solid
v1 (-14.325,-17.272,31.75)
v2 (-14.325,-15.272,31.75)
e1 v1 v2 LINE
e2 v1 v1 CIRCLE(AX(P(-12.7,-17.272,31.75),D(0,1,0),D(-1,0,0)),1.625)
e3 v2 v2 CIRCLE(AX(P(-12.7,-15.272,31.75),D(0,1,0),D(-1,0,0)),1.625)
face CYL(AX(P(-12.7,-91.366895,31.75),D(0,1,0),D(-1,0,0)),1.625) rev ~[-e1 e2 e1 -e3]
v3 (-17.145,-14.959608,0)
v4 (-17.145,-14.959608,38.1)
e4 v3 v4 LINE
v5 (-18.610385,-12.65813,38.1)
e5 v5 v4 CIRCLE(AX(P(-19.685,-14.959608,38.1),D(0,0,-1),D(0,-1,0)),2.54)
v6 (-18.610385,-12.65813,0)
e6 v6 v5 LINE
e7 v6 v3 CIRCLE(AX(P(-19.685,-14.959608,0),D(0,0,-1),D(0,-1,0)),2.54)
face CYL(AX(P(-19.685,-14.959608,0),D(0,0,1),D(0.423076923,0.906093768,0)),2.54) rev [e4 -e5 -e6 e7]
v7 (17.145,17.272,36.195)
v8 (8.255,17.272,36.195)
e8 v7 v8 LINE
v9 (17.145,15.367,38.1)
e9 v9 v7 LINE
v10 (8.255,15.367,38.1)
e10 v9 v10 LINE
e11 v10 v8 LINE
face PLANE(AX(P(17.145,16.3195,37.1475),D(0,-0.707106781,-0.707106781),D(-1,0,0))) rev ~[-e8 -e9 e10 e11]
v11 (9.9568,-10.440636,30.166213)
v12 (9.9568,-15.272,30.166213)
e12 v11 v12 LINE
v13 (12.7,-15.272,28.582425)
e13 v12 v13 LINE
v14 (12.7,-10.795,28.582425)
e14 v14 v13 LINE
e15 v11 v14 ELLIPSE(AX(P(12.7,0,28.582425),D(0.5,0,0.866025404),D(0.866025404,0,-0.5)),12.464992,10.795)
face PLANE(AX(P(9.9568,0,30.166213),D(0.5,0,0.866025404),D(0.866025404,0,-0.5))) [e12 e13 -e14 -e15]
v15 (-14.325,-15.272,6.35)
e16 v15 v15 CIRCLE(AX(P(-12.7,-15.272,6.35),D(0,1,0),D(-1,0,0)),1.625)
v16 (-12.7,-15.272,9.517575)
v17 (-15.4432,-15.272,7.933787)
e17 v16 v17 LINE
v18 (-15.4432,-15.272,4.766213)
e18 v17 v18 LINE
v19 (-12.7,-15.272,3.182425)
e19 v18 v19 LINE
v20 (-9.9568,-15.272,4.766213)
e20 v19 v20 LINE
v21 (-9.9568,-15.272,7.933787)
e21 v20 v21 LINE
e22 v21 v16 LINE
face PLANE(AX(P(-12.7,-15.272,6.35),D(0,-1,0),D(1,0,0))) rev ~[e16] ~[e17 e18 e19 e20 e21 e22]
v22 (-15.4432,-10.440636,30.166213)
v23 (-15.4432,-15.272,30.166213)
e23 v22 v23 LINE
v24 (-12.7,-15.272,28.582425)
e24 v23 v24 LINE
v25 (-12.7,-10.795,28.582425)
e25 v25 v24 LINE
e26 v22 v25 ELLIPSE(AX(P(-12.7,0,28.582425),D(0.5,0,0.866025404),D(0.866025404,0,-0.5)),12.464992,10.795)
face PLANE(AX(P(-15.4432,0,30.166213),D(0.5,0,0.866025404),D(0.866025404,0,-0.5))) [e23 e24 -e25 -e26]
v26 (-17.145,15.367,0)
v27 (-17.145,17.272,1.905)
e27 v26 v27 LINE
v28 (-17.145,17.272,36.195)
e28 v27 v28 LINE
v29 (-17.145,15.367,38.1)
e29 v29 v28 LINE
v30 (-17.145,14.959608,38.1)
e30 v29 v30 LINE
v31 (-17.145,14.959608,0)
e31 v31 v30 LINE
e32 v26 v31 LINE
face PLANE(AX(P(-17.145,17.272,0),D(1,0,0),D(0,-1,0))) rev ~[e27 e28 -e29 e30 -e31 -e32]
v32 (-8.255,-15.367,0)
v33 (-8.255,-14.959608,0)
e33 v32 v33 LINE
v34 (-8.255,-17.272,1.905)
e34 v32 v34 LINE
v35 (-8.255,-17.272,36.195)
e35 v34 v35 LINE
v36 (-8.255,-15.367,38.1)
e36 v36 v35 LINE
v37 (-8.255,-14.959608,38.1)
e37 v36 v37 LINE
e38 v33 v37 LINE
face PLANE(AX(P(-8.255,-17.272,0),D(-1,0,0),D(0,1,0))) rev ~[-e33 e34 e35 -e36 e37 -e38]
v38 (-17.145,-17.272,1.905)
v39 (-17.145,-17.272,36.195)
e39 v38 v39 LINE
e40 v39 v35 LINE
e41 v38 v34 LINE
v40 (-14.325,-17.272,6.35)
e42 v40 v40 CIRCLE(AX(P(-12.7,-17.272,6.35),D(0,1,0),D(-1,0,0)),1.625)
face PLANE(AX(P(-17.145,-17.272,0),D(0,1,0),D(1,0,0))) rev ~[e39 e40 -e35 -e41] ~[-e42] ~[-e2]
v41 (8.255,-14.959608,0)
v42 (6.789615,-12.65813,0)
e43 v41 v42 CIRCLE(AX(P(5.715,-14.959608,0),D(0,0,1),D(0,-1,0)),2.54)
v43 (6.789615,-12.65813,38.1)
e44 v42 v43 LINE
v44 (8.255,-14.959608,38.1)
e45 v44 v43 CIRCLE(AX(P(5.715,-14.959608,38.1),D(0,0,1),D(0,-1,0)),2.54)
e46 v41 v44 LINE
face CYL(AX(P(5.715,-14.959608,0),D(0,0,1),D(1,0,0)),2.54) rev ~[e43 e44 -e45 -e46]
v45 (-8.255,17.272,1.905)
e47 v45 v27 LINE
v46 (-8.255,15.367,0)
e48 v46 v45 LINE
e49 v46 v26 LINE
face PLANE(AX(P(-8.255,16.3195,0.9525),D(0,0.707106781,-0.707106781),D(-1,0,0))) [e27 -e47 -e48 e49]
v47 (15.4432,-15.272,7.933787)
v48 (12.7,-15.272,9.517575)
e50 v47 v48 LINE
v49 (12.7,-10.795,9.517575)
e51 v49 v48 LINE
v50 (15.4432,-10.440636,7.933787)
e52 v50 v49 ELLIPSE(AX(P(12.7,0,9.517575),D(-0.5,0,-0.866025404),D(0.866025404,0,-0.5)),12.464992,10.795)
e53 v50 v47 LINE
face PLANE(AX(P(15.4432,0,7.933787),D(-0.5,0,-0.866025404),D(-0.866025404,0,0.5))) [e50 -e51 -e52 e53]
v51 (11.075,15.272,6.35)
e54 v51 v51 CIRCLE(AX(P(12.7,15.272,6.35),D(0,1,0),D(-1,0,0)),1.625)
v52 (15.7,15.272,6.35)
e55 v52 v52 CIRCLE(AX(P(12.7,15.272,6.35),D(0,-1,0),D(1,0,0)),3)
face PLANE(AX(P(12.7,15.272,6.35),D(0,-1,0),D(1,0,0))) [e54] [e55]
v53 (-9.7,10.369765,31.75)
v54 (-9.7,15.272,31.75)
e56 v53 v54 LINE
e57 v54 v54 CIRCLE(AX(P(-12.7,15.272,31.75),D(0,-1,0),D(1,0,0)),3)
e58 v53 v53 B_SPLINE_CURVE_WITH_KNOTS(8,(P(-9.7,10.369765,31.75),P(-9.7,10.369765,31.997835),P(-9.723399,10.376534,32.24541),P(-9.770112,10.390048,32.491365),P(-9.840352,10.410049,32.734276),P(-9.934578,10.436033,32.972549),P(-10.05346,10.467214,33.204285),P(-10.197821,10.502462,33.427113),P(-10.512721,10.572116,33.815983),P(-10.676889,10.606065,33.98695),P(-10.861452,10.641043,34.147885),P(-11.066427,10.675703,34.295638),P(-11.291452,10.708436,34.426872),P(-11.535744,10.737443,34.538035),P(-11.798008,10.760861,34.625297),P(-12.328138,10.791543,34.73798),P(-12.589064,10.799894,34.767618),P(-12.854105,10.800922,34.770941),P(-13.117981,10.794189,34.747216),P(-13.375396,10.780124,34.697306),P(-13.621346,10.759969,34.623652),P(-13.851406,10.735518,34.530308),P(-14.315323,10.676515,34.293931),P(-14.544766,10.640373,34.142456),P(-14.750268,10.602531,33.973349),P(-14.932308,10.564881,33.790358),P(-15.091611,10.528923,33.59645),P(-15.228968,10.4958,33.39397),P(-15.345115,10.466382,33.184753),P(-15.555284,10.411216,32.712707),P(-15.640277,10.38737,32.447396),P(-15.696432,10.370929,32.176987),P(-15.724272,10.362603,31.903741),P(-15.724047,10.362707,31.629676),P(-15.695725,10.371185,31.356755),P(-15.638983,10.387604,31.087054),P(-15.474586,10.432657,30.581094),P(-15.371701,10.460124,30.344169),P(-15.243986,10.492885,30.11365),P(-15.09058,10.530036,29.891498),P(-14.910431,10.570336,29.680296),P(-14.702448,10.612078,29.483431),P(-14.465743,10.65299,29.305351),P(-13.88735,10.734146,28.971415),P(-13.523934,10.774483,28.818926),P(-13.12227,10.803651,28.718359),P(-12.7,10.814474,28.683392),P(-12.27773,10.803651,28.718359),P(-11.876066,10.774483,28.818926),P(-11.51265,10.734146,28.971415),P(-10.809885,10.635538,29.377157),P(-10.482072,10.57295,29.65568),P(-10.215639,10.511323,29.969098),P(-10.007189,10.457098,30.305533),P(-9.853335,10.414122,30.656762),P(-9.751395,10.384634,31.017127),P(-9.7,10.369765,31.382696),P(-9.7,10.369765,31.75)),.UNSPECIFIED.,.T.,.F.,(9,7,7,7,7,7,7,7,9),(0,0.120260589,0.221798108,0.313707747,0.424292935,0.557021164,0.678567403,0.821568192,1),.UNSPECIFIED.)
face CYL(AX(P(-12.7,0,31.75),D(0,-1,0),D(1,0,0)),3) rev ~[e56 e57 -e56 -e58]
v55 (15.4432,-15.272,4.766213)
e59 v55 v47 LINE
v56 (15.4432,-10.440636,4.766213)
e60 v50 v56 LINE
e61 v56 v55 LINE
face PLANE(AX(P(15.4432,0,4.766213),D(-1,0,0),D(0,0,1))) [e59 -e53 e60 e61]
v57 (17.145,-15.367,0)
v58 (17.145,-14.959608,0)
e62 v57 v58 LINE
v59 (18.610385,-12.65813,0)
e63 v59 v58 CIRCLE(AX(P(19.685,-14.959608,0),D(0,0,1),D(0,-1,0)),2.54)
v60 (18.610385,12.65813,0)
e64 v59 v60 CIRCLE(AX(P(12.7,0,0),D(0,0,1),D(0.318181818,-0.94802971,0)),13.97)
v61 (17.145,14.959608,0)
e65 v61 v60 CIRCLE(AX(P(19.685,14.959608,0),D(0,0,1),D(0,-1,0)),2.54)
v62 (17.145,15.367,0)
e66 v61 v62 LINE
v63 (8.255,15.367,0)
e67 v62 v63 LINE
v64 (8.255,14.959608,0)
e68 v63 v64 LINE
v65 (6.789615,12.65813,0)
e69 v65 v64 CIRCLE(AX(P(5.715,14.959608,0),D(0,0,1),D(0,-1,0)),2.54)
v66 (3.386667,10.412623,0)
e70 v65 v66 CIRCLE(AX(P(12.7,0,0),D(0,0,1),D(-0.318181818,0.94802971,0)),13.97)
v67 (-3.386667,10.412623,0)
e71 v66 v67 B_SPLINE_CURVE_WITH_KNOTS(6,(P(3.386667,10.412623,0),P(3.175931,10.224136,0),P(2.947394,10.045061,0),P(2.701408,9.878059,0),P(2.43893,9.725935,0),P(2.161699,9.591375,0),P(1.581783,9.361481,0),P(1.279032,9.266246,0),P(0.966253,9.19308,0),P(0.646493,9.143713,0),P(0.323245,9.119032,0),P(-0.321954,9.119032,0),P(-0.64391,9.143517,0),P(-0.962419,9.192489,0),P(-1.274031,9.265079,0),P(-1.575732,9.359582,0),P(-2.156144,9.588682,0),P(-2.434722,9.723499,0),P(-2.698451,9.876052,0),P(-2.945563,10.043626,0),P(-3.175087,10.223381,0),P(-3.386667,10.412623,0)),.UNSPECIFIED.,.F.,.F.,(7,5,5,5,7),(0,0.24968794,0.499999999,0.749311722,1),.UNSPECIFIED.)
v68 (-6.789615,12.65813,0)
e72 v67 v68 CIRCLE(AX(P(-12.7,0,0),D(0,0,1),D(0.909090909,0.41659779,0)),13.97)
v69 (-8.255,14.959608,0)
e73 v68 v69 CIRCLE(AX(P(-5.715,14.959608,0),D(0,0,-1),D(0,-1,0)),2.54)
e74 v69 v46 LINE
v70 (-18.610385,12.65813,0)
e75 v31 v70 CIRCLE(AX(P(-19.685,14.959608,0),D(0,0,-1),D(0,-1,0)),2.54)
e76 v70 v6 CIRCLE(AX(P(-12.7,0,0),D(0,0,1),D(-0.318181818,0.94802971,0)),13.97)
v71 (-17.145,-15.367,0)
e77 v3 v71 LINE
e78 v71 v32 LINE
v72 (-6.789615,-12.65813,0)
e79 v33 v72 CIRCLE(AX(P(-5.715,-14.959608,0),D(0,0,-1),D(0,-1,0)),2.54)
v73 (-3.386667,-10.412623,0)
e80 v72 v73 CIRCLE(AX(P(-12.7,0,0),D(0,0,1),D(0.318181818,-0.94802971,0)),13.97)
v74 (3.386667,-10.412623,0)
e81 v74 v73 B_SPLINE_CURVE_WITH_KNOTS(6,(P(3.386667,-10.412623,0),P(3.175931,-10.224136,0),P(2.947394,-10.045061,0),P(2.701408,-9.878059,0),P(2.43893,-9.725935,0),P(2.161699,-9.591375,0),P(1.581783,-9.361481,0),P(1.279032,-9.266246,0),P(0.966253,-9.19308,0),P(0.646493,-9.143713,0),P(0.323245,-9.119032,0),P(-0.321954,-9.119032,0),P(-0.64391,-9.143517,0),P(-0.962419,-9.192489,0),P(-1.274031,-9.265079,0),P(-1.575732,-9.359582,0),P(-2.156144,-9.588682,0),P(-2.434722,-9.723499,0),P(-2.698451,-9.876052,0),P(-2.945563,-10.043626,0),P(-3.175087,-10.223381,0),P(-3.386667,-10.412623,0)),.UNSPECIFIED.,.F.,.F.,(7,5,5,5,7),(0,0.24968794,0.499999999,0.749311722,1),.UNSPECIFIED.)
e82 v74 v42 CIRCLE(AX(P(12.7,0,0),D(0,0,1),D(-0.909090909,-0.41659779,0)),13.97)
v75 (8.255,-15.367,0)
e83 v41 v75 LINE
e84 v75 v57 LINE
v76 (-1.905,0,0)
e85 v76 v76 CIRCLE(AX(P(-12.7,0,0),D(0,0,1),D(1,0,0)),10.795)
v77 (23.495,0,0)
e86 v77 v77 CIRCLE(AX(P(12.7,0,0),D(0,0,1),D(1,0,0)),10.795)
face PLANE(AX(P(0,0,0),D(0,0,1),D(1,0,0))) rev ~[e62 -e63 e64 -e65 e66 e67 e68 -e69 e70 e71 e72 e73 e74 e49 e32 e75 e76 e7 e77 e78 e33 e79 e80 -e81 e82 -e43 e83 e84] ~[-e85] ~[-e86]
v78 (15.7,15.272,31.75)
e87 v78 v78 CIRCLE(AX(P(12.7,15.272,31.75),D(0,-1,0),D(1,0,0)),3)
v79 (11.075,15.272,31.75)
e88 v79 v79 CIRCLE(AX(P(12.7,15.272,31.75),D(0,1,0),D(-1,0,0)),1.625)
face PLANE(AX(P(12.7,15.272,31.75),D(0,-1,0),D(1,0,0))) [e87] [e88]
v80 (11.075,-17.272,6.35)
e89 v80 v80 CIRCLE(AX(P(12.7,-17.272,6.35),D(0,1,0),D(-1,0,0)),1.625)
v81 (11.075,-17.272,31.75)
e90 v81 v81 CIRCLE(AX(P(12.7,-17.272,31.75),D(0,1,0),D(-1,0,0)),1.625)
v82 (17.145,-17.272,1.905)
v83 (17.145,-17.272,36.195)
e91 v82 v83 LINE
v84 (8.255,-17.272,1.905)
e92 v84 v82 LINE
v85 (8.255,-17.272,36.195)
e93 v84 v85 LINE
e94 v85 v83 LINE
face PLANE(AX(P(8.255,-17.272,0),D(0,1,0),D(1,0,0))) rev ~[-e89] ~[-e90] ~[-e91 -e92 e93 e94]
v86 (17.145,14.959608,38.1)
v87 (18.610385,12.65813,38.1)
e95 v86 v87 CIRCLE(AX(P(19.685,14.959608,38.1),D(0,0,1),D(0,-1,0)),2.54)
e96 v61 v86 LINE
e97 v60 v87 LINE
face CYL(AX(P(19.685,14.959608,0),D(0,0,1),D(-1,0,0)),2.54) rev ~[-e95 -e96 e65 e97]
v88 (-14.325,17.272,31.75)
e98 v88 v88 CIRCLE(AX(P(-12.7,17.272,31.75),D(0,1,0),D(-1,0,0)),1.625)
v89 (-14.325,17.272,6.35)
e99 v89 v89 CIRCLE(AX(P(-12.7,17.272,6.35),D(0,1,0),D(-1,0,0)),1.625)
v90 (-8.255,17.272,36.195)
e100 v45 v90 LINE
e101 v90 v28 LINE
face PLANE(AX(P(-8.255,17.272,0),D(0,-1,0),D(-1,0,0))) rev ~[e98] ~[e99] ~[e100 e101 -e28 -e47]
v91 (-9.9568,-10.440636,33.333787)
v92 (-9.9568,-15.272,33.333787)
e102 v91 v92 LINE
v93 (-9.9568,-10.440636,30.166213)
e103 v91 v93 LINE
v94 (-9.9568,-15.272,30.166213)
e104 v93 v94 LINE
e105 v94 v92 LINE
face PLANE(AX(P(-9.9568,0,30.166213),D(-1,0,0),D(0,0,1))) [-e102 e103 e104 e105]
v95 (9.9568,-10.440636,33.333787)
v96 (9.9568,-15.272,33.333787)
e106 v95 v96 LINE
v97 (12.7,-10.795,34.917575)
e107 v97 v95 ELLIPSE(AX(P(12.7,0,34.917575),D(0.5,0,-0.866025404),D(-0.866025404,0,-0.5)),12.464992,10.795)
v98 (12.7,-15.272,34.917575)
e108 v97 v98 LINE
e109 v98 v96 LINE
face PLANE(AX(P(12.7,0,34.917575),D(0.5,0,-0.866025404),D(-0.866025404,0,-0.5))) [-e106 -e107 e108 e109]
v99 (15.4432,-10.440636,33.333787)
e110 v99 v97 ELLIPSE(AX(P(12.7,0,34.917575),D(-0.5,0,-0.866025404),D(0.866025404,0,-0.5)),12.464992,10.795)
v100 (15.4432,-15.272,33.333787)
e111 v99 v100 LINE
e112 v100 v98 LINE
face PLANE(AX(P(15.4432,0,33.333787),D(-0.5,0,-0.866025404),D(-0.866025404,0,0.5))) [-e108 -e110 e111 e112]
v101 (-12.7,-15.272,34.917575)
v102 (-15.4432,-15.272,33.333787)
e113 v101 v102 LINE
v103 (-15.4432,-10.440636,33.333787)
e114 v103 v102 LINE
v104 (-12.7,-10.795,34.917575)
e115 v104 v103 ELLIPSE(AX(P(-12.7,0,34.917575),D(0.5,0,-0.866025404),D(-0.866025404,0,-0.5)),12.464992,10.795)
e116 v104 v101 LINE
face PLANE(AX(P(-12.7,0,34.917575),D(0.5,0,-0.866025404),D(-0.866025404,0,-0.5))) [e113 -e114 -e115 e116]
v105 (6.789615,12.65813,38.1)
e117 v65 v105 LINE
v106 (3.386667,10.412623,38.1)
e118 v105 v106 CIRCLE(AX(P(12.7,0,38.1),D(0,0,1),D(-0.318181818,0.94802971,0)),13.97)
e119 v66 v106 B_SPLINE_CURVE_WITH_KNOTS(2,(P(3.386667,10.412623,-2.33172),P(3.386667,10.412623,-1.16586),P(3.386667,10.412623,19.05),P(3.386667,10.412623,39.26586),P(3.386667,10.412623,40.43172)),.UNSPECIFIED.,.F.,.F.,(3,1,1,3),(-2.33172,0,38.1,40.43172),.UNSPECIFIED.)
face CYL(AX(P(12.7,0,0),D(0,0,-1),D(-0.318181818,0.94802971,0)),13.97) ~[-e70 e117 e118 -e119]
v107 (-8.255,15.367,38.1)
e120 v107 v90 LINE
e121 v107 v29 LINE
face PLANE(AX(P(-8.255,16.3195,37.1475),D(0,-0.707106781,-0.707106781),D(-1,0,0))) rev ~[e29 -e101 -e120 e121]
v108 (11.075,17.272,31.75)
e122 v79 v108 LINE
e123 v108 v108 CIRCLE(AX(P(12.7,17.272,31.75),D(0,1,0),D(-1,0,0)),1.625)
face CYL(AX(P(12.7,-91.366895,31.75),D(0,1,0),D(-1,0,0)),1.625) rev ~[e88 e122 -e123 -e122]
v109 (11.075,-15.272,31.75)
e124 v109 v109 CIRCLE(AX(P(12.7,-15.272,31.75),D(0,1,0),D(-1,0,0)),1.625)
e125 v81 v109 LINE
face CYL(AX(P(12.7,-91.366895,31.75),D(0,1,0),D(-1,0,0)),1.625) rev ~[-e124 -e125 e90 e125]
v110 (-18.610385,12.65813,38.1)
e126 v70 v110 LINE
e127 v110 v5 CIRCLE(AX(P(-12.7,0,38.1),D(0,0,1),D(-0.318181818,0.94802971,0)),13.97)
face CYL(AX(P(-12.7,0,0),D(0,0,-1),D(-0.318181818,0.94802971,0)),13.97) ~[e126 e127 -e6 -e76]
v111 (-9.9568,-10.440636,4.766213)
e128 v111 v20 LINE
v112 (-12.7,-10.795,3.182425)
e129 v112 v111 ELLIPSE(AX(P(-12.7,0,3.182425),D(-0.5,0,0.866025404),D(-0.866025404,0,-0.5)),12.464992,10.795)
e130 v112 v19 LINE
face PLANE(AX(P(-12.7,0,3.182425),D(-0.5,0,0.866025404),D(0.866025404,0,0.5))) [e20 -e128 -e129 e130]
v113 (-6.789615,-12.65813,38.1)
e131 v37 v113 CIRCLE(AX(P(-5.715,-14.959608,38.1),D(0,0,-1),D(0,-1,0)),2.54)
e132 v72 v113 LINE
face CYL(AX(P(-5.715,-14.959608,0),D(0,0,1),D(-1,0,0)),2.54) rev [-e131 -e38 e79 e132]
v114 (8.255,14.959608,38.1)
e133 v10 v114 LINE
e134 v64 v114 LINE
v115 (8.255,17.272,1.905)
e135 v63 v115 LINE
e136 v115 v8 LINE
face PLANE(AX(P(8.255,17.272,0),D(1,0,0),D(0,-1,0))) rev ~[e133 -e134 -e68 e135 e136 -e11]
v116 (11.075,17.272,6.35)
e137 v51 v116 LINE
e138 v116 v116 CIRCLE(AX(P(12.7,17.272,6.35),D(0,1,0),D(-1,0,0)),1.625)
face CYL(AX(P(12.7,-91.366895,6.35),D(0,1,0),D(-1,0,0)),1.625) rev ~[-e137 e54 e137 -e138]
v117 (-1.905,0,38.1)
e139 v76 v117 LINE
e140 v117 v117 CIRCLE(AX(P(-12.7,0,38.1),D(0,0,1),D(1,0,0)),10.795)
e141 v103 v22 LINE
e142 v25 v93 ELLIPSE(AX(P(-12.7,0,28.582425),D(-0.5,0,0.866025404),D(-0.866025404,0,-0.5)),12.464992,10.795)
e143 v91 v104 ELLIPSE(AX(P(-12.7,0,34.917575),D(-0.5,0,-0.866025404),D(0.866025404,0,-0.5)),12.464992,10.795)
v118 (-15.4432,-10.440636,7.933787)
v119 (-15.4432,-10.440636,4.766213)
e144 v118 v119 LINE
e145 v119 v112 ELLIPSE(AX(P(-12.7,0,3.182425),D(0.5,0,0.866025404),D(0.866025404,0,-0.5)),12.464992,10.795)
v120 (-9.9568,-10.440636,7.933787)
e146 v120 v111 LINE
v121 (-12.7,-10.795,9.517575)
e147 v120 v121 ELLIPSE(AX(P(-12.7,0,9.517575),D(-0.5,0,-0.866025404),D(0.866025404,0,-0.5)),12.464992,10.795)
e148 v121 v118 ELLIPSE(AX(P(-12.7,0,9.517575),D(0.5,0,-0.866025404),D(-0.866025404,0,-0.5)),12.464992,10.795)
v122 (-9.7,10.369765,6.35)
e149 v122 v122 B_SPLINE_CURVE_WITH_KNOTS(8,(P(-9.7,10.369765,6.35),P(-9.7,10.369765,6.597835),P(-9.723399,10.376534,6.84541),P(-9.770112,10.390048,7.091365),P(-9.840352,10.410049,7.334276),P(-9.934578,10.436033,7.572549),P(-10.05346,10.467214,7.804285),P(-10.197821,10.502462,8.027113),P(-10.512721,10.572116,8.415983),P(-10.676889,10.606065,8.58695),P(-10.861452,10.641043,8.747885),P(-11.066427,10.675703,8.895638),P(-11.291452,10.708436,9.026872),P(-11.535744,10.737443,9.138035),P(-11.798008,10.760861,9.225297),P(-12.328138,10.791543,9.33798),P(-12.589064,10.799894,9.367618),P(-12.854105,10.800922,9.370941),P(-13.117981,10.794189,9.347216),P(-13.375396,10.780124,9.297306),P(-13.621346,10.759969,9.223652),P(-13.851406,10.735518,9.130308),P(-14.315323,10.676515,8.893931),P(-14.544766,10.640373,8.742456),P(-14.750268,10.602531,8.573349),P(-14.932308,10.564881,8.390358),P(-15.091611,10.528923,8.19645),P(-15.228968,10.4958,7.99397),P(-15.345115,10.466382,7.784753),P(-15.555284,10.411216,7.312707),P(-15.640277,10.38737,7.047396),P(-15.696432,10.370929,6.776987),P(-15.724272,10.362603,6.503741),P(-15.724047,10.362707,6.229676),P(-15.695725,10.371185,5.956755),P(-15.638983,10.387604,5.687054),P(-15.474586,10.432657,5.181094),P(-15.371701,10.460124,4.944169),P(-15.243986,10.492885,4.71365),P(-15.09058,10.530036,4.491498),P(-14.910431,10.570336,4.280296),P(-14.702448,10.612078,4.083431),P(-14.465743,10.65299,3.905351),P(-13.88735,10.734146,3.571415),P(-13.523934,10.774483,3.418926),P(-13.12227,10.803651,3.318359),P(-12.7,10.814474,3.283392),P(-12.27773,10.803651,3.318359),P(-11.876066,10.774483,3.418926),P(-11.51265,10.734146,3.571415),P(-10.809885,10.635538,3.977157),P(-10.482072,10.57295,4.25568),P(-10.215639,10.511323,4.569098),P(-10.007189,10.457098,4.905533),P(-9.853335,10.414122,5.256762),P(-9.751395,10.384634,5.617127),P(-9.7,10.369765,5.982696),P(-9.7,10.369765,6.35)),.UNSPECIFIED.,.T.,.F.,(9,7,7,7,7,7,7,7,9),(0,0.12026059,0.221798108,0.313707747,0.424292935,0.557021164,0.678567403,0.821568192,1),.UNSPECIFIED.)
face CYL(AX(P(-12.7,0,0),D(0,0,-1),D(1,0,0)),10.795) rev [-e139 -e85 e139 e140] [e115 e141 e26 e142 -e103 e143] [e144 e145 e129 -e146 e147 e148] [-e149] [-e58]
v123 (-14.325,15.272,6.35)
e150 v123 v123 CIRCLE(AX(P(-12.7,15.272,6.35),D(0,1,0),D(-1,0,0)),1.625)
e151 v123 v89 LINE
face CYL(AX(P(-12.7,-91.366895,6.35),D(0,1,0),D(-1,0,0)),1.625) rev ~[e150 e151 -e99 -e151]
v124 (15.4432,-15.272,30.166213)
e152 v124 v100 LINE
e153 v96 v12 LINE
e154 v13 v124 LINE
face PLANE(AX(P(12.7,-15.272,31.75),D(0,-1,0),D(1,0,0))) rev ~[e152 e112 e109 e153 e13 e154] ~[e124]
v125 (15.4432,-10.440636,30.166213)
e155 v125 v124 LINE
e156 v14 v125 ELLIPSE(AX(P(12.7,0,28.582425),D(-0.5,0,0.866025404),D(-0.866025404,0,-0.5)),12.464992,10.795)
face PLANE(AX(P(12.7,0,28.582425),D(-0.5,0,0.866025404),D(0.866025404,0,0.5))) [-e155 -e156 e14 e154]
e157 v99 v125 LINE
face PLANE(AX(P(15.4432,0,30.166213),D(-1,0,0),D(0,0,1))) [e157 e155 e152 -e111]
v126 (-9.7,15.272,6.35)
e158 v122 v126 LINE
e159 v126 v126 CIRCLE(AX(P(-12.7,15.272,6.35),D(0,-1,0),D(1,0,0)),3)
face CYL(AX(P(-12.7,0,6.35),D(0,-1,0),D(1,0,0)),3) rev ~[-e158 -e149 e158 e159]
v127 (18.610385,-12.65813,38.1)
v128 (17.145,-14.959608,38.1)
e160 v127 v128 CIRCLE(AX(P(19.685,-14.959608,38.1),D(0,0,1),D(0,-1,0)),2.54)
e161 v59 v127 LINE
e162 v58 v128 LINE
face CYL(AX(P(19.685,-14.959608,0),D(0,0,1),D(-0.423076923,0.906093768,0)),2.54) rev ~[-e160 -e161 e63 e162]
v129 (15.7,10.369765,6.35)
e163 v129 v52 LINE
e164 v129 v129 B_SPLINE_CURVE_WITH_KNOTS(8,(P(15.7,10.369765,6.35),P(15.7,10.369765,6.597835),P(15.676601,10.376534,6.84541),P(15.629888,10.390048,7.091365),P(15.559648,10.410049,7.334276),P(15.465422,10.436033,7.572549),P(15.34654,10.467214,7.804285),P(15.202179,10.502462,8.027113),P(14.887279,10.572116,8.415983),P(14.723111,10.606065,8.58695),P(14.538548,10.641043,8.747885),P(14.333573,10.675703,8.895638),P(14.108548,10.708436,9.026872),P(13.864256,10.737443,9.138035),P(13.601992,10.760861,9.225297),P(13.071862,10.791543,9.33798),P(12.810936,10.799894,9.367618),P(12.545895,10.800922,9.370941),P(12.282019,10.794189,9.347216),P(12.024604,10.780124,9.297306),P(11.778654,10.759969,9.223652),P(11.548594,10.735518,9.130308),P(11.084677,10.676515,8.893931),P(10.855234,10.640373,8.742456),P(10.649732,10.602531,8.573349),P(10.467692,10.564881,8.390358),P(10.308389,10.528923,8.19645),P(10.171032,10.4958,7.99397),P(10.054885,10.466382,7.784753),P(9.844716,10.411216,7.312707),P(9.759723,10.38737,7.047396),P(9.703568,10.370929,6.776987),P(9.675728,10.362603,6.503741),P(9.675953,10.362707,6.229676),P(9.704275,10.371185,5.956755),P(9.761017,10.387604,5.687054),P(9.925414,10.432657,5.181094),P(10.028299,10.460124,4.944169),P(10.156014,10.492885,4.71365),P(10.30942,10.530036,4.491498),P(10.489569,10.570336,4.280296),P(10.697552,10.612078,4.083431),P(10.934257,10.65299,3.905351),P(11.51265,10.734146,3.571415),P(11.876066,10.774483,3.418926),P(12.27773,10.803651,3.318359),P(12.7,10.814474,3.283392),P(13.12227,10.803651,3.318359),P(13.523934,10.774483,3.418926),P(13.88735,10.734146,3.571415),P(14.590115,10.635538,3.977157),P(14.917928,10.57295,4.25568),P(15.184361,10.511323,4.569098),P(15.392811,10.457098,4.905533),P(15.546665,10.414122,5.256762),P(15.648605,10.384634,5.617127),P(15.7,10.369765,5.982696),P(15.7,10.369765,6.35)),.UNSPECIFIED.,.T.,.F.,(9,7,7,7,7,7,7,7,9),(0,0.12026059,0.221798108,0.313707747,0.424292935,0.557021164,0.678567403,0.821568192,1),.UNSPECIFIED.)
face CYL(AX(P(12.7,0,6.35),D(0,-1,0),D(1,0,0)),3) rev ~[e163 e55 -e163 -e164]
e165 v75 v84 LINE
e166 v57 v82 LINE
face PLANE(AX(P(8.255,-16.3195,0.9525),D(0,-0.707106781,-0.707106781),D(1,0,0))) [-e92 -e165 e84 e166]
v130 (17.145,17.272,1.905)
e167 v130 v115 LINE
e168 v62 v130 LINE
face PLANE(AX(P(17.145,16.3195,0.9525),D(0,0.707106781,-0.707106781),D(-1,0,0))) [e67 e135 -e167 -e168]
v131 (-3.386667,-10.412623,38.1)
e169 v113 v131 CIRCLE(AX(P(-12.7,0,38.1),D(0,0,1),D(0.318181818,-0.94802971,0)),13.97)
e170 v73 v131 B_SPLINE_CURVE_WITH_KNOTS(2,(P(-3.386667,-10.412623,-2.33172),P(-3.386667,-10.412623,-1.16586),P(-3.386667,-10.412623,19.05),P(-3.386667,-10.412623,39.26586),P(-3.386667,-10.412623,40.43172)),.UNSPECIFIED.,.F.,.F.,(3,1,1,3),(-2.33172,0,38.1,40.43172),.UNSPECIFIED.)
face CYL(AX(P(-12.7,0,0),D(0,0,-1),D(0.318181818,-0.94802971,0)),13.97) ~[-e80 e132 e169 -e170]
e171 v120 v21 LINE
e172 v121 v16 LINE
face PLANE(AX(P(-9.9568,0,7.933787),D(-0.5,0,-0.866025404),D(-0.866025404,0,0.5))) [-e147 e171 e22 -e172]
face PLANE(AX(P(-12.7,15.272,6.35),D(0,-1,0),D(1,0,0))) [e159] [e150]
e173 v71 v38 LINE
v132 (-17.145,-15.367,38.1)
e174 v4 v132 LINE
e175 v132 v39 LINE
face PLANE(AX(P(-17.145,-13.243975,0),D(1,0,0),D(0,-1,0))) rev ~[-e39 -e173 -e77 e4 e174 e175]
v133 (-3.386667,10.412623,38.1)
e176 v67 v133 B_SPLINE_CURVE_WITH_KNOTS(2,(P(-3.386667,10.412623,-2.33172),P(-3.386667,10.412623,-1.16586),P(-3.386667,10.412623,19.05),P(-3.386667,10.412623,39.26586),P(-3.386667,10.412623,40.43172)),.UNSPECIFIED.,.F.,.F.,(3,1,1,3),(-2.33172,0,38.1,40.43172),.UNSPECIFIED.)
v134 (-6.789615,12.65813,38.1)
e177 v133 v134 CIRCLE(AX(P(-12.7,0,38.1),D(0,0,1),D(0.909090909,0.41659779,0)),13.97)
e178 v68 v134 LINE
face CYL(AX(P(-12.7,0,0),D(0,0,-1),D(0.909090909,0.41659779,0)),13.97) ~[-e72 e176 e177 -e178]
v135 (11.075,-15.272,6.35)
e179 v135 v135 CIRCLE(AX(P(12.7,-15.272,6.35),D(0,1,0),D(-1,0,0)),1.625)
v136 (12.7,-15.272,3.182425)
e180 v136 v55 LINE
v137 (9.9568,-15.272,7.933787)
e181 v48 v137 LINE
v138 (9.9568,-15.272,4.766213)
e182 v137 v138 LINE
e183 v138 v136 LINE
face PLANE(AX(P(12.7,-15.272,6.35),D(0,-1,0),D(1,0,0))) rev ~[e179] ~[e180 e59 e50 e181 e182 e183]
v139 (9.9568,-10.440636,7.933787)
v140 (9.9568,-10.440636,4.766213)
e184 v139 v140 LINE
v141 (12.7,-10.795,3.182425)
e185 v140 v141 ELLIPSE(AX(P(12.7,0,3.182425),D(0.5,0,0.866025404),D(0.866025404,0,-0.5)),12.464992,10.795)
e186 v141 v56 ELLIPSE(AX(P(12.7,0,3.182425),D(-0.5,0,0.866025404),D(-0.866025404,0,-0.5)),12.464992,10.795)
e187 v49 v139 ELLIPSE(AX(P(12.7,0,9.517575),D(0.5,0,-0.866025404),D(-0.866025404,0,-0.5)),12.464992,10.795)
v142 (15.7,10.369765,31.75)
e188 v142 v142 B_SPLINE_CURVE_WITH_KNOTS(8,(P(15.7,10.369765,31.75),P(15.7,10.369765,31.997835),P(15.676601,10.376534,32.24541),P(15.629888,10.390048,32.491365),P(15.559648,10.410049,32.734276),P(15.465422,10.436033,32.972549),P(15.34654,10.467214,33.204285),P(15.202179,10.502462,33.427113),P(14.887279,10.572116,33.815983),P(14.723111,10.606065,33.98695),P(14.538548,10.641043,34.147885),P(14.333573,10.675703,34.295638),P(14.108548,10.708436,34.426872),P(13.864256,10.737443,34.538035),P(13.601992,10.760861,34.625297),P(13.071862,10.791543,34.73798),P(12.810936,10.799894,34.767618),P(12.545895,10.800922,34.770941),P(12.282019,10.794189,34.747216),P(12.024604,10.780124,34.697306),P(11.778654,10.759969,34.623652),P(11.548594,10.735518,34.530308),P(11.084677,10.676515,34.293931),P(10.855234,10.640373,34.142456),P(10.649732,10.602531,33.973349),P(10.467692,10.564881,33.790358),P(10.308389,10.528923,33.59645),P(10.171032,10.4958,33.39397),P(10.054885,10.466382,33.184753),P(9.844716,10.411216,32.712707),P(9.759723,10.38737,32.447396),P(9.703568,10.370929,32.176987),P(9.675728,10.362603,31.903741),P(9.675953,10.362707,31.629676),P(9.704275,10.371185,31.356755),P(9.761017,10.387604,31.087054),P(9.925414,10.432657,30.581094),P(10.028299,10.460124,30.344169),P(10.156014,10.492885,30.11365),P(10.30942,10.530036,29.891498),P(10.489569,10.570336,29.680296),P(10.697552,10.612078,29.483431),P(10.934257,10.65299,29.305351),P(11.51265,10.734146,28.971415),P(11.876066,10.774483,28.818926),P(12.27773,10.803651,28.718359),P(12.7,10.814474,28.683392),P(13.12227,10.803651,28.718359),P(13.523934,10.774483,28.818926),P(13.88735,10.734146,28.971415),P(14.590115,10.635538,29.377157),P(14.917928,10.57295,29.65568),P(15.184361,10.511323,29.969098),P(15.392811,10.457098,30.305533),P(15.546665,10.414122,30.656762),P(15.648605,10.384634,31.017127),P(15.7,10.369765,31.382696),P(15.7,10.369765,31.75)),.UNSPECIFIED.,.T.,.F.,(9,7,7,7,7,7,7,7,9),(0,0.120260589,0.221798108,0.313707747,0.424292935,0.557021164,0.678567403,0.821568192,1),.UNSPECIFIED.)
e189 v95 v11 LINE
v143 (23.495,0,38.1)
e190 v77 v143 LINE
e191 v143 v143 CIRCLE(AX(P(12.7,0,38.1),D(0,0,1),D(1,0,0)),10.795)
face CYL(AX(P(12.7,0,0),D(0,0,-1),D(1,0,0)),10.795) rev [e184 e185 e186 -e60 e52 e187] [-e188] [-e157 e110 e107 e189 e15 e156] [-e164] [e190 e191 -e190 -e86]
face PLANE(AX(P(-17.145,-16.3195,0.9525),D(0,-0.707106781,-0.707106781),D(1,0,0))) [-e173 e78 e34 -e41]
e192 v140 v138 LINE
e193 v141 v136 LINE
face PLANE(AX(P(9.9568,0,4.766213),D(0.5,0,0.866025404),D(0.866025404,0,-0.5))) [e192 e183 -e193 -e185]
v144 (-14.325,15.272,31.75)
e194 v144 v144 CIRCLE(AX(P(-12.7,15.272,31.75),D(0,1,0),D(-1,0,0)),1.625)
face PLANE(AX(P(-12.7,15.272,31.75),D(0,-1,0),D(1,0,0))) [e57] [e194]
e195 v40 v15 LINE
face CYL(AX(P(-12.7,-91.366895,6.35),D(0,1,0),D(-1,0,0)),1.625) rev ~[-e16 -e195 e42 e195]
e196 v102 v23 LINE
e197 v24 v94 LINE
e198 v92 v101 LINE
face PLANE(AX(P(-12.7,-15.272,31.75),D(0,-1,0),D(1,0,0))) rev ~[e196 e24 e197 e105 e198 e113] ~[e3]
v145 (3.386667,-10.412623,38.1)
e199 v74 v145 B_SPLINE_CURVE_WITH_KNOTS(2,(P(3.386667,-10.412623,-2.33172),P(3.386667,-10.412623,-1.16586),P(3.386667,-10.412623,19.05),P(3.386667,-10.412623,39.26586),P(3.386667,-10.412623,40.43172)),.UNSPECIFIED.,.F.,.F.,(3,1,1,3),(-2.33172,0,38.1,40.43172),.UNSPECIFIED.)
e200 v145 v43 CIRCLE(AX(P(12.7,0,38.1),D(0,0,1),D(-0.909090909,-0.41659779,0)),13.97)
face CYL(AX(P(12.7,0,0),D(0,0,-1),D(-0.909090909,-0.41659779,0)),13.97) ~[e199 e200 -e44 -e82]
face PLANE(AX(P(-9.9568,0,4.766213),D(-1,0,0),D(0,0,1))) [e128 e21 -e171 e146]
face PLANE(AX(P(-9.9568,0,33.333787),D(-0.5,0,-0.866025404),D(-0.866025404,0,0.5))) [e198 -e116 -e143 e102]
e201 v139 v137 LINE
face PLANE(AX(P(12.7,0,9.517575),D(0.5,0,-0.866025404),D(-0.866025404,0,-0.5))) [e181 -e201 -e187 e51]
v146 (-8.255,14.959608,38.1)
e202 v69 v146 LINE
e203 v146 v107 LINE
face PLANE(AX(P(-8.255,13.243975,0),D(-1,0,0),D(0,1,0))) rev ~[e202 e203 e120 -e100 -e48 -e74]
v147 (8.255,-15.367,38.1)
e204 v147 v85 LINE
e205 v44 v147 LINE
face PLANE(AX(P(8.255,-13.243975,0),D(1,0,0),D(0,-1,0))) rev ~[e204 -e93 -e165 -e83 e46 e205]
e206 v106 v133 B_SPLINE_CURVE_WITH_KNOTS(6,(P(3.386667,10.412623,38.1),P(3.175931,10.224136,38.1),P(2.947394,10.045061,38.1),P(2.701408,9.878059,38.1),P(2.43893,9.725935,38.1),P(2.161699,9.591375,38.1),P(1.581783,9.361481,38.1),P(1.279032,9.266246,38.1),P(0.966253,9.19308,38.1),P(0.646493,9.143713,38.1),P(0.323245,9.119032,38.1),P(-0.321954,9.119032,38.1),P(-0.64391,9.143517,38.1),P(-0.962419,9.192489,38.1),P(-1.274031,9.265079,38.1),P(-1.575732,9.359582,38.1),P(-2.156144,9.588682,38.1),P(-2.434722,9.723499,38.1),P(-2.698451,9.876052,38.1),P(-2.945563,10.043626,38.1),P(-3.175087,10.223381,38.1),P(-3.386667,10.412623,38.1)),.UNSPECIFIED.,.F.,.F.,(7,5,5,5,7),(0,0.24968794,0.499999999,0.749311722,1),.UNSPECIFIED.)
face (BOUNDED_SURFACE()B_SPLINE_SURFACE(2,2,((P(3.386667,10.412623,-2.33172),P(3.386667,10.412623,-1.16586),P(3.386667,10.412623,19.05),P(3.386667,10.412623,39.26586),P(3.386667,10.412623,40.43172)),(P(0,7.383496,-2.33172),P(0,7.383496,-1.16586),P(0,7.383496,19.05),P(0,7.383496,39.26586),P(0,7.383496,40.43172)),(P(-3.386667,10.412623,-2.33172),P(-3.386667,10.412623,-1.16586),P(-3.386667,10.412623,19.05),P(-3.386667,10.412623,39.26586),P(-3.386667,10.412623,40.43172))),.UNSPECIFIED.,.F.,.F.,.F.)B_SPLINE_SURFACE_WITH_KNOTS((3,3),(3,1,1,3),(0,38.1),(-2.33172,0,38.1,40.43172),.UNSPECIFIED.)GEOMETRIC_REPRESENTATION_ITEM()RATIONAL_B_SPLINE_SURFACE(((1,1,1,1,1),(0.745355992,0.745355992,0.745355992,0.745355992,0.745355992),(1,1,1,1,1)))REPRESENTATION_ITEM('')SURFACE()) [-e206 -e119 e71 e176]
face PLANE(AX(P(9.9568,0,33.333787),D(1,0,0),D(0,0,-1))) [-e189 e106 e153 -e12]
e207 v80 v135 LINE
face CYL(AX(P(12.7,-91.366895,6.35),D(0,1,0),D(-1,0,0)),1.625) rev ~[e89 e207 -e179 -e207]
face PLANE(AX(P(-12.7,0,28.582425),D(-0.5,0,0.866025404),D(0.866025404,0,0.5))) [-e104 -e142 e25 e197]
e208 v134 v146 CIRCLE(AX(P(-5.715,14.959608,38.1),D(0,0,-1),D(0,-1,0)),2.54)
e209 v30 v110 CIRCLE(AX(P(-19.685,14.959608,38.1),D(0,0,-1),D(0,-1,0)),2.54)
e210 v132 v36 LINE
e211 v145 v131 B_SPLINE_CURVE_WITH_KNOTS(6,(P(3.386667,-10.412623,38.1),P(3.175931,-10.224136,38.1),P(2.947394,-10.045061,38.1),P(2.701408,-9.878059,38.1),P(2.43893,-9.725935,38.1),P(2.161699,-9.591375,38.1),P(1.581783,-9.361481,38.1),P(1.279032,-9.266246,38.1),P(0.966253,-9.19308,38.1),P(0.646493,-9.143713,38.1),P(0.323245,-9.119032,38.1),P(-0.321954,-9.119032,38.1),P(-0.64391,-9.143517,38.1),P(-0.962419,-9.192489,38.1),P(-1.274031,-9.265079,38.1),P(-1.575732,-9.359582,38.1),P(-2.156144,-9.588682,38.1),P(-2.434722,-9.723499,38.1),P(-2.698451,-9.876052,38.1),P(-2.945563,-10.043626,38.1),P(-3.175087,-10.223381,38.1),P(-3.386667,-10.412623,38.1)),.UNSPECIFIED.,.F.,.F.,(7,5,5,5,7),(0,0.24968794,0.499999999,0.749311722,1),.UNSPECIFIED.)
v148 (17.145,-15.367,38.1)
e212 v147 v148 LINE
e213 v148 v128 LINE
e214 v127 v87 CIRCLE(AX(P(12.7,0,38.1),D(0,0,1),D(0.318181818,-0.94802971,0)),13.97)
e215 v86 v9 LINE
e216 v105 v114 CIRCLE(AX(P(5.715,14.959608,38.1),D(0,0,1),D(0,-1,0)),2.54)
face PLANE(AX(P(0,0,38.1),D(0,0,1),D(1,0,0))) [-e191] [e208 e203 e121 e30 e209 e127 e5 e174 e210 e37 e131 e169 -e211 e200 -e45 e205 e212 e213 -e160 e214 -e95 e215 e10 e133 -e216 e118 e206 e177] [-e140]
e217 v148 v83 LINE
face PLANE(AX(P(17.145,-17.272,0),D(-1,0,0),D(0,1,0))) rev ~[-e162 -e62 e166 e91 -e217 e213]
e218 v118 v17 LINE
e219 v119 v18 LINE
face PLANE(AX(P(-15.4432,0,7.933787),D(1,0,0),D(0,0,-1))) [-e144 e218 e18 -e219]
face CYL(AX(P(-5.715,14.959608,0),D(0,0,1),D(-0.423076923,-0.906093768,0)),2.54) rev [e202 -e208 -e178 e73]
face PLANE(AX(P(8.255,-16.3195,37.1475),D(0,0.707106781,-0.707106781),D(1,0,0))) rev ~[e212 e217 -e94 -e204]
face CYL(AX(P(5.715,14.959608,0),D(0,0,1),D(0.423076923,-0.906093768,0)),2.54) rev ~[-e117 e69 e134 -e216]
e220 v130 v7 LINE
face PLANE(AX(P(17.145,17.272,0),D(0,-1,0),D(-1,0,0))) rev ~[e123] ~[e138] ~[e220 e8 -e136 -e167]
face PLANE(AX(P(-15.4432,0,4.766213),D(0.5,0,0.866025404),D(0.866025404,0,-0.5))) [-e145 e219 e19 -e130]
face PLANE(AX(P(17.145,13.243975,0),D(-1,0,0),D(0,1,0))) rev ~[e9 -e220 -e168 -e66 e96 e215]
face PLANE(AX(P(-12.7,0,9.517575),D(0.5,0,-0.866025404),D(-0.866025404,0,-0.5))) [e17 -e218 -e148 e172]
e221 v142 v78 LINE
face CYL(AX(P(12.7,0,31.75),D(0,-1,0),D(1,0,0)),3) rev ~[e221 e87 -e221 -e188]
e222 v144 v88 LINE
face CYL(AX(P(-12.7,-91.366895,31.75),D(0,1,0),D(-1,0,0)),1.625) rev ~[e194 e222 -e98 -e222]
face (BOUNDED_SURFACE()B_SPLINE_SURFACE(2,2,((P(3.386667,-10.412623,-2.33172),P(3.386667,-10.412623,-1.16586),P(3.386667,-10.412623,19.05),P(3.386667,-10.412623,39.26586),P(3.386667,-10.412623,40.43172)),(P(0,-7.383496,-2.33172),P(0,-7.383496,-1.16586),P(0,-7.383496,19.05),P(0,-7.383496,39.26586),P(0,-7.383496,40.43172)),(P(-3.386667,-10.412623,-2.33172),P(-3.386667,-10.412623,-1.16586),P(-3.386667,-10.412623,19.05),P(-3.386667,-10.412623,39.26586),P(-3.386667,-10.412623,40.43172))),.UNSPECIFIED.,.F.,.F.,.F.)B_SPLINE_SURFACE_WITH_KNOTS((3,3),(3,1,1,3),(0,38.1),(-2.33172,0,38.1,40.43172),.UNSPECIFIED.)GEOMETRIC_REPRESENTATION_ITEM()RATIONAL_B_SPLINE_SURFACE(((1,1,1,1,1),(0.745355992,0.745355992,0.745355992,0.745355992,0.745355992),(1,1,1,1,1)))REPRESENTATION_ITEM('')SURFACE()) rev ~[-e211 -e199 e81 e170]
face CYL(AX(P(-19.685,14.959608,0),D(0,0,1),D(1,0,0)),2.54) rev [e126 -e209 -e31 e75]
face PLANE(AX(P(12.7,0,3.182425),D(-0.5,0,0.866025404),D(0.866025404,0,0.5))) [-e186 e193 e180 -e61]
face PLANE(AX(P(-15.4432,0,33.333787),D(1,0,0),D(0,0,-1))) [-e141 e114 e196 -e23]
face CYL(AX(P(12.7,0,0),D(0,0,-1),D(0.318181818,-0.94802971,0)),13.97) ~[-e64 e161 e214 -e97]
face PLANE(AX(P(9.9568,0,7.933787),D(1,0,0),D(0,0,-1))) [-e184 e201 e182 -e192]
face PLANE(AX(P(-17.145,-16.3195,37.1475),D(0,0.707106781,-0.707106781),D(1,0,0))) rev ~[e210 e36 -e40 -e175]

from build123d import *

# Parameters (mm, degrees)
F0_R     = 10.795
F1_DEPTH = 38.1
F3_D     = 3.25
F4_R     = 3
F5_DEPTH = 15.272
F7_DEPTH = 15.272
F8_SIZE  = 1.905
F9_R     = 5.08
F10_R    = 2.54


with BuildPart() as f1:
    # F0 (on Top) → F1 (new body)
    with BuildSketch(Plane.XY):
        with BuildLine():
            ThreePointArc((8.255, 13.2439750453), (3.3583146073, 10.3871947138), (0, 5.8198711326))
            ThreePointArc((0, 5.8198711326), (-3.3583146073, 10.3871947138), (-8.255, 13.2439750453))
            Line((-8.255, 13.2439750453), (-8.255, 17.272))
            Line((-8.255, 17.272), (-17.145, 17.272))
            Line((-17.145, 17.272), (-17.145, 13.2439750453))
            ThreePointArc((-17.145, 13.2439750453), (-26.67, 0), (-17.145, -13.2439750453))
            Line((-17.145, -13.2439750453), (-17.145, -17.272))
            Line((-17.145, -17.272), (-8.255, -17.272))
            Line((-8.255, -17.272), (-8.255, -13.2439750453))
            ThreePointArc((-8.255, -13.2439750453), (-3.3583146073, -10.3871947138), (0, -5.8198711326))
            ThreePointArc((0, -5.8198711326), (3.3583146073, -10.3871947138), (8.255, -13.2439750453))
            Line((8.255, -13.2439750453), (8.255, -17.272))
            Line((8.255, -17.272), (17.145, -17.272))
            Line((17.145, -17.272), (17.145, -13.2439750453))
            ThreePointArc((17.145, -13.2439750453), (26.67, 0), (17.145, 13.2439750453))
            Line((17.145, 13.2439750453), (17.145, 17.272))
            Line((17.145, 17.272), (8.255, 17.272))
            Line((8.255, 17.272), (8.255, 13.2439750453))
        make_face()
        with Locations((-12.7, 0)):
            Circle(F0_R, mode=Mode.SUBTRACT)
        with Locations((12.7, 0)):
            Circle(F0_R, mode=Mode.SUBTRACT)
    extrude(amount=F1_DEPTH)

    # F3 (through all)
    with Locations(Plane.XZ.offset(17.272)):
        with Locations((-12.7, 31.75), (12.7, 31.75), (12.7, 6.35), (-12.7, 6.35)):
            Hole(F3_D / 2)

    # F4 (on Front) → F5 (cut, through all)
    with BuildSketch(Plane.XZ):
        with Locations((-12.7, 31.75)):
            Circle(F4_R)
        with Locations((-12.7, 6.35)):
            Circle(F4_R)
        with Locations((12.7, 6.35)):
            Circle(F4_R)
        with Locations((12.7, 31.75)):
            Circle(F4_R)
    extrude(amount=-F5_DEPTH, mode=Mode.SUBTRACT)

    # F6 (on Front) → F7 (cut, through all)
    with BuildSketch(Plane.XZ):
        Polygon((-9.9568, 30.1662127416), (-9.9568, 33.3337872584), (-12.7, 34.9175745169), (-15.4432, 33.3337872584), (-15.4432, 30.1662127416), (-12.7, 28.5824254831), align=None)
        Polygon((-9.9568, 4.7662127416), (-9.9568, 7.9337872584), (-12.7, 9.5175745169), (-15.4432, 7.9337872584), (-15.4432, 4.7662127416), (-12.7, 3.1824254831), align=None)
        Polygon((15.4432, 4.7662127416), (15.4432, 7.9337872584), (12.7, 9.5175745169), (9.9568, 7.9337872584), (9.9568, 4.7662127416), (12.7, 3.1824254831), align=None)
        Polygon((15.4432, 30.1662127416), (15.4432, 33.3337872584), (12.7, 34.9175745169), (9.9568, 33.3337872584), (9.9568, 30.1662127416), (12.7, 28.5824254831), align=None)
    extrude(amount=F7_DEPTH, mode=Mode.SUBTRACT)

    # F8
    f8_edges = [f1.edges().sort_by_distance(p)[0] for p in [
        (12.7, -17.272, 38.1),
        (12.7, -17.272, 0),
        (-12.7, -17.272, 0),
        (-12.7, -17.272, 38.1),
        (12.7, 17.272, 38.1),
        (12.7, 17.272, 0),
        (-12.7, 17.272, 0),
        (-12.7, 17.272, 38.1),
    ]]
    chamfer(f8_edges, length=F8_SIZE)

    # F9
    f9_edges = [f1.edges().sort_by_distance(p)[0] for p in [
        (0, 5.819871, 19.05),
        (0, -5.819871, 19.05),
    ]]
    fillet(f9_edges, radius=F9_R)

    # F10
    f10_edges = [f1.edges().sort_by_distance(p)[0] for p in [
        (-8.255, -13.243975, 19.05),
        (8.255, -13.243975, 19.05),
        (17.145, -13.243975, 19.05),
        (17.145, 13.243975, 19.05),
        (8.255, 13.243975, 19.05),
        (-17.145, 13.243975, 19.05),
        (-8.255, 13.243975, 19.05),
        (-17.145, -13.243975, 19.05),
    ]]
    fillet(f10_edges, radius=F10_R)


solid = f1.part
